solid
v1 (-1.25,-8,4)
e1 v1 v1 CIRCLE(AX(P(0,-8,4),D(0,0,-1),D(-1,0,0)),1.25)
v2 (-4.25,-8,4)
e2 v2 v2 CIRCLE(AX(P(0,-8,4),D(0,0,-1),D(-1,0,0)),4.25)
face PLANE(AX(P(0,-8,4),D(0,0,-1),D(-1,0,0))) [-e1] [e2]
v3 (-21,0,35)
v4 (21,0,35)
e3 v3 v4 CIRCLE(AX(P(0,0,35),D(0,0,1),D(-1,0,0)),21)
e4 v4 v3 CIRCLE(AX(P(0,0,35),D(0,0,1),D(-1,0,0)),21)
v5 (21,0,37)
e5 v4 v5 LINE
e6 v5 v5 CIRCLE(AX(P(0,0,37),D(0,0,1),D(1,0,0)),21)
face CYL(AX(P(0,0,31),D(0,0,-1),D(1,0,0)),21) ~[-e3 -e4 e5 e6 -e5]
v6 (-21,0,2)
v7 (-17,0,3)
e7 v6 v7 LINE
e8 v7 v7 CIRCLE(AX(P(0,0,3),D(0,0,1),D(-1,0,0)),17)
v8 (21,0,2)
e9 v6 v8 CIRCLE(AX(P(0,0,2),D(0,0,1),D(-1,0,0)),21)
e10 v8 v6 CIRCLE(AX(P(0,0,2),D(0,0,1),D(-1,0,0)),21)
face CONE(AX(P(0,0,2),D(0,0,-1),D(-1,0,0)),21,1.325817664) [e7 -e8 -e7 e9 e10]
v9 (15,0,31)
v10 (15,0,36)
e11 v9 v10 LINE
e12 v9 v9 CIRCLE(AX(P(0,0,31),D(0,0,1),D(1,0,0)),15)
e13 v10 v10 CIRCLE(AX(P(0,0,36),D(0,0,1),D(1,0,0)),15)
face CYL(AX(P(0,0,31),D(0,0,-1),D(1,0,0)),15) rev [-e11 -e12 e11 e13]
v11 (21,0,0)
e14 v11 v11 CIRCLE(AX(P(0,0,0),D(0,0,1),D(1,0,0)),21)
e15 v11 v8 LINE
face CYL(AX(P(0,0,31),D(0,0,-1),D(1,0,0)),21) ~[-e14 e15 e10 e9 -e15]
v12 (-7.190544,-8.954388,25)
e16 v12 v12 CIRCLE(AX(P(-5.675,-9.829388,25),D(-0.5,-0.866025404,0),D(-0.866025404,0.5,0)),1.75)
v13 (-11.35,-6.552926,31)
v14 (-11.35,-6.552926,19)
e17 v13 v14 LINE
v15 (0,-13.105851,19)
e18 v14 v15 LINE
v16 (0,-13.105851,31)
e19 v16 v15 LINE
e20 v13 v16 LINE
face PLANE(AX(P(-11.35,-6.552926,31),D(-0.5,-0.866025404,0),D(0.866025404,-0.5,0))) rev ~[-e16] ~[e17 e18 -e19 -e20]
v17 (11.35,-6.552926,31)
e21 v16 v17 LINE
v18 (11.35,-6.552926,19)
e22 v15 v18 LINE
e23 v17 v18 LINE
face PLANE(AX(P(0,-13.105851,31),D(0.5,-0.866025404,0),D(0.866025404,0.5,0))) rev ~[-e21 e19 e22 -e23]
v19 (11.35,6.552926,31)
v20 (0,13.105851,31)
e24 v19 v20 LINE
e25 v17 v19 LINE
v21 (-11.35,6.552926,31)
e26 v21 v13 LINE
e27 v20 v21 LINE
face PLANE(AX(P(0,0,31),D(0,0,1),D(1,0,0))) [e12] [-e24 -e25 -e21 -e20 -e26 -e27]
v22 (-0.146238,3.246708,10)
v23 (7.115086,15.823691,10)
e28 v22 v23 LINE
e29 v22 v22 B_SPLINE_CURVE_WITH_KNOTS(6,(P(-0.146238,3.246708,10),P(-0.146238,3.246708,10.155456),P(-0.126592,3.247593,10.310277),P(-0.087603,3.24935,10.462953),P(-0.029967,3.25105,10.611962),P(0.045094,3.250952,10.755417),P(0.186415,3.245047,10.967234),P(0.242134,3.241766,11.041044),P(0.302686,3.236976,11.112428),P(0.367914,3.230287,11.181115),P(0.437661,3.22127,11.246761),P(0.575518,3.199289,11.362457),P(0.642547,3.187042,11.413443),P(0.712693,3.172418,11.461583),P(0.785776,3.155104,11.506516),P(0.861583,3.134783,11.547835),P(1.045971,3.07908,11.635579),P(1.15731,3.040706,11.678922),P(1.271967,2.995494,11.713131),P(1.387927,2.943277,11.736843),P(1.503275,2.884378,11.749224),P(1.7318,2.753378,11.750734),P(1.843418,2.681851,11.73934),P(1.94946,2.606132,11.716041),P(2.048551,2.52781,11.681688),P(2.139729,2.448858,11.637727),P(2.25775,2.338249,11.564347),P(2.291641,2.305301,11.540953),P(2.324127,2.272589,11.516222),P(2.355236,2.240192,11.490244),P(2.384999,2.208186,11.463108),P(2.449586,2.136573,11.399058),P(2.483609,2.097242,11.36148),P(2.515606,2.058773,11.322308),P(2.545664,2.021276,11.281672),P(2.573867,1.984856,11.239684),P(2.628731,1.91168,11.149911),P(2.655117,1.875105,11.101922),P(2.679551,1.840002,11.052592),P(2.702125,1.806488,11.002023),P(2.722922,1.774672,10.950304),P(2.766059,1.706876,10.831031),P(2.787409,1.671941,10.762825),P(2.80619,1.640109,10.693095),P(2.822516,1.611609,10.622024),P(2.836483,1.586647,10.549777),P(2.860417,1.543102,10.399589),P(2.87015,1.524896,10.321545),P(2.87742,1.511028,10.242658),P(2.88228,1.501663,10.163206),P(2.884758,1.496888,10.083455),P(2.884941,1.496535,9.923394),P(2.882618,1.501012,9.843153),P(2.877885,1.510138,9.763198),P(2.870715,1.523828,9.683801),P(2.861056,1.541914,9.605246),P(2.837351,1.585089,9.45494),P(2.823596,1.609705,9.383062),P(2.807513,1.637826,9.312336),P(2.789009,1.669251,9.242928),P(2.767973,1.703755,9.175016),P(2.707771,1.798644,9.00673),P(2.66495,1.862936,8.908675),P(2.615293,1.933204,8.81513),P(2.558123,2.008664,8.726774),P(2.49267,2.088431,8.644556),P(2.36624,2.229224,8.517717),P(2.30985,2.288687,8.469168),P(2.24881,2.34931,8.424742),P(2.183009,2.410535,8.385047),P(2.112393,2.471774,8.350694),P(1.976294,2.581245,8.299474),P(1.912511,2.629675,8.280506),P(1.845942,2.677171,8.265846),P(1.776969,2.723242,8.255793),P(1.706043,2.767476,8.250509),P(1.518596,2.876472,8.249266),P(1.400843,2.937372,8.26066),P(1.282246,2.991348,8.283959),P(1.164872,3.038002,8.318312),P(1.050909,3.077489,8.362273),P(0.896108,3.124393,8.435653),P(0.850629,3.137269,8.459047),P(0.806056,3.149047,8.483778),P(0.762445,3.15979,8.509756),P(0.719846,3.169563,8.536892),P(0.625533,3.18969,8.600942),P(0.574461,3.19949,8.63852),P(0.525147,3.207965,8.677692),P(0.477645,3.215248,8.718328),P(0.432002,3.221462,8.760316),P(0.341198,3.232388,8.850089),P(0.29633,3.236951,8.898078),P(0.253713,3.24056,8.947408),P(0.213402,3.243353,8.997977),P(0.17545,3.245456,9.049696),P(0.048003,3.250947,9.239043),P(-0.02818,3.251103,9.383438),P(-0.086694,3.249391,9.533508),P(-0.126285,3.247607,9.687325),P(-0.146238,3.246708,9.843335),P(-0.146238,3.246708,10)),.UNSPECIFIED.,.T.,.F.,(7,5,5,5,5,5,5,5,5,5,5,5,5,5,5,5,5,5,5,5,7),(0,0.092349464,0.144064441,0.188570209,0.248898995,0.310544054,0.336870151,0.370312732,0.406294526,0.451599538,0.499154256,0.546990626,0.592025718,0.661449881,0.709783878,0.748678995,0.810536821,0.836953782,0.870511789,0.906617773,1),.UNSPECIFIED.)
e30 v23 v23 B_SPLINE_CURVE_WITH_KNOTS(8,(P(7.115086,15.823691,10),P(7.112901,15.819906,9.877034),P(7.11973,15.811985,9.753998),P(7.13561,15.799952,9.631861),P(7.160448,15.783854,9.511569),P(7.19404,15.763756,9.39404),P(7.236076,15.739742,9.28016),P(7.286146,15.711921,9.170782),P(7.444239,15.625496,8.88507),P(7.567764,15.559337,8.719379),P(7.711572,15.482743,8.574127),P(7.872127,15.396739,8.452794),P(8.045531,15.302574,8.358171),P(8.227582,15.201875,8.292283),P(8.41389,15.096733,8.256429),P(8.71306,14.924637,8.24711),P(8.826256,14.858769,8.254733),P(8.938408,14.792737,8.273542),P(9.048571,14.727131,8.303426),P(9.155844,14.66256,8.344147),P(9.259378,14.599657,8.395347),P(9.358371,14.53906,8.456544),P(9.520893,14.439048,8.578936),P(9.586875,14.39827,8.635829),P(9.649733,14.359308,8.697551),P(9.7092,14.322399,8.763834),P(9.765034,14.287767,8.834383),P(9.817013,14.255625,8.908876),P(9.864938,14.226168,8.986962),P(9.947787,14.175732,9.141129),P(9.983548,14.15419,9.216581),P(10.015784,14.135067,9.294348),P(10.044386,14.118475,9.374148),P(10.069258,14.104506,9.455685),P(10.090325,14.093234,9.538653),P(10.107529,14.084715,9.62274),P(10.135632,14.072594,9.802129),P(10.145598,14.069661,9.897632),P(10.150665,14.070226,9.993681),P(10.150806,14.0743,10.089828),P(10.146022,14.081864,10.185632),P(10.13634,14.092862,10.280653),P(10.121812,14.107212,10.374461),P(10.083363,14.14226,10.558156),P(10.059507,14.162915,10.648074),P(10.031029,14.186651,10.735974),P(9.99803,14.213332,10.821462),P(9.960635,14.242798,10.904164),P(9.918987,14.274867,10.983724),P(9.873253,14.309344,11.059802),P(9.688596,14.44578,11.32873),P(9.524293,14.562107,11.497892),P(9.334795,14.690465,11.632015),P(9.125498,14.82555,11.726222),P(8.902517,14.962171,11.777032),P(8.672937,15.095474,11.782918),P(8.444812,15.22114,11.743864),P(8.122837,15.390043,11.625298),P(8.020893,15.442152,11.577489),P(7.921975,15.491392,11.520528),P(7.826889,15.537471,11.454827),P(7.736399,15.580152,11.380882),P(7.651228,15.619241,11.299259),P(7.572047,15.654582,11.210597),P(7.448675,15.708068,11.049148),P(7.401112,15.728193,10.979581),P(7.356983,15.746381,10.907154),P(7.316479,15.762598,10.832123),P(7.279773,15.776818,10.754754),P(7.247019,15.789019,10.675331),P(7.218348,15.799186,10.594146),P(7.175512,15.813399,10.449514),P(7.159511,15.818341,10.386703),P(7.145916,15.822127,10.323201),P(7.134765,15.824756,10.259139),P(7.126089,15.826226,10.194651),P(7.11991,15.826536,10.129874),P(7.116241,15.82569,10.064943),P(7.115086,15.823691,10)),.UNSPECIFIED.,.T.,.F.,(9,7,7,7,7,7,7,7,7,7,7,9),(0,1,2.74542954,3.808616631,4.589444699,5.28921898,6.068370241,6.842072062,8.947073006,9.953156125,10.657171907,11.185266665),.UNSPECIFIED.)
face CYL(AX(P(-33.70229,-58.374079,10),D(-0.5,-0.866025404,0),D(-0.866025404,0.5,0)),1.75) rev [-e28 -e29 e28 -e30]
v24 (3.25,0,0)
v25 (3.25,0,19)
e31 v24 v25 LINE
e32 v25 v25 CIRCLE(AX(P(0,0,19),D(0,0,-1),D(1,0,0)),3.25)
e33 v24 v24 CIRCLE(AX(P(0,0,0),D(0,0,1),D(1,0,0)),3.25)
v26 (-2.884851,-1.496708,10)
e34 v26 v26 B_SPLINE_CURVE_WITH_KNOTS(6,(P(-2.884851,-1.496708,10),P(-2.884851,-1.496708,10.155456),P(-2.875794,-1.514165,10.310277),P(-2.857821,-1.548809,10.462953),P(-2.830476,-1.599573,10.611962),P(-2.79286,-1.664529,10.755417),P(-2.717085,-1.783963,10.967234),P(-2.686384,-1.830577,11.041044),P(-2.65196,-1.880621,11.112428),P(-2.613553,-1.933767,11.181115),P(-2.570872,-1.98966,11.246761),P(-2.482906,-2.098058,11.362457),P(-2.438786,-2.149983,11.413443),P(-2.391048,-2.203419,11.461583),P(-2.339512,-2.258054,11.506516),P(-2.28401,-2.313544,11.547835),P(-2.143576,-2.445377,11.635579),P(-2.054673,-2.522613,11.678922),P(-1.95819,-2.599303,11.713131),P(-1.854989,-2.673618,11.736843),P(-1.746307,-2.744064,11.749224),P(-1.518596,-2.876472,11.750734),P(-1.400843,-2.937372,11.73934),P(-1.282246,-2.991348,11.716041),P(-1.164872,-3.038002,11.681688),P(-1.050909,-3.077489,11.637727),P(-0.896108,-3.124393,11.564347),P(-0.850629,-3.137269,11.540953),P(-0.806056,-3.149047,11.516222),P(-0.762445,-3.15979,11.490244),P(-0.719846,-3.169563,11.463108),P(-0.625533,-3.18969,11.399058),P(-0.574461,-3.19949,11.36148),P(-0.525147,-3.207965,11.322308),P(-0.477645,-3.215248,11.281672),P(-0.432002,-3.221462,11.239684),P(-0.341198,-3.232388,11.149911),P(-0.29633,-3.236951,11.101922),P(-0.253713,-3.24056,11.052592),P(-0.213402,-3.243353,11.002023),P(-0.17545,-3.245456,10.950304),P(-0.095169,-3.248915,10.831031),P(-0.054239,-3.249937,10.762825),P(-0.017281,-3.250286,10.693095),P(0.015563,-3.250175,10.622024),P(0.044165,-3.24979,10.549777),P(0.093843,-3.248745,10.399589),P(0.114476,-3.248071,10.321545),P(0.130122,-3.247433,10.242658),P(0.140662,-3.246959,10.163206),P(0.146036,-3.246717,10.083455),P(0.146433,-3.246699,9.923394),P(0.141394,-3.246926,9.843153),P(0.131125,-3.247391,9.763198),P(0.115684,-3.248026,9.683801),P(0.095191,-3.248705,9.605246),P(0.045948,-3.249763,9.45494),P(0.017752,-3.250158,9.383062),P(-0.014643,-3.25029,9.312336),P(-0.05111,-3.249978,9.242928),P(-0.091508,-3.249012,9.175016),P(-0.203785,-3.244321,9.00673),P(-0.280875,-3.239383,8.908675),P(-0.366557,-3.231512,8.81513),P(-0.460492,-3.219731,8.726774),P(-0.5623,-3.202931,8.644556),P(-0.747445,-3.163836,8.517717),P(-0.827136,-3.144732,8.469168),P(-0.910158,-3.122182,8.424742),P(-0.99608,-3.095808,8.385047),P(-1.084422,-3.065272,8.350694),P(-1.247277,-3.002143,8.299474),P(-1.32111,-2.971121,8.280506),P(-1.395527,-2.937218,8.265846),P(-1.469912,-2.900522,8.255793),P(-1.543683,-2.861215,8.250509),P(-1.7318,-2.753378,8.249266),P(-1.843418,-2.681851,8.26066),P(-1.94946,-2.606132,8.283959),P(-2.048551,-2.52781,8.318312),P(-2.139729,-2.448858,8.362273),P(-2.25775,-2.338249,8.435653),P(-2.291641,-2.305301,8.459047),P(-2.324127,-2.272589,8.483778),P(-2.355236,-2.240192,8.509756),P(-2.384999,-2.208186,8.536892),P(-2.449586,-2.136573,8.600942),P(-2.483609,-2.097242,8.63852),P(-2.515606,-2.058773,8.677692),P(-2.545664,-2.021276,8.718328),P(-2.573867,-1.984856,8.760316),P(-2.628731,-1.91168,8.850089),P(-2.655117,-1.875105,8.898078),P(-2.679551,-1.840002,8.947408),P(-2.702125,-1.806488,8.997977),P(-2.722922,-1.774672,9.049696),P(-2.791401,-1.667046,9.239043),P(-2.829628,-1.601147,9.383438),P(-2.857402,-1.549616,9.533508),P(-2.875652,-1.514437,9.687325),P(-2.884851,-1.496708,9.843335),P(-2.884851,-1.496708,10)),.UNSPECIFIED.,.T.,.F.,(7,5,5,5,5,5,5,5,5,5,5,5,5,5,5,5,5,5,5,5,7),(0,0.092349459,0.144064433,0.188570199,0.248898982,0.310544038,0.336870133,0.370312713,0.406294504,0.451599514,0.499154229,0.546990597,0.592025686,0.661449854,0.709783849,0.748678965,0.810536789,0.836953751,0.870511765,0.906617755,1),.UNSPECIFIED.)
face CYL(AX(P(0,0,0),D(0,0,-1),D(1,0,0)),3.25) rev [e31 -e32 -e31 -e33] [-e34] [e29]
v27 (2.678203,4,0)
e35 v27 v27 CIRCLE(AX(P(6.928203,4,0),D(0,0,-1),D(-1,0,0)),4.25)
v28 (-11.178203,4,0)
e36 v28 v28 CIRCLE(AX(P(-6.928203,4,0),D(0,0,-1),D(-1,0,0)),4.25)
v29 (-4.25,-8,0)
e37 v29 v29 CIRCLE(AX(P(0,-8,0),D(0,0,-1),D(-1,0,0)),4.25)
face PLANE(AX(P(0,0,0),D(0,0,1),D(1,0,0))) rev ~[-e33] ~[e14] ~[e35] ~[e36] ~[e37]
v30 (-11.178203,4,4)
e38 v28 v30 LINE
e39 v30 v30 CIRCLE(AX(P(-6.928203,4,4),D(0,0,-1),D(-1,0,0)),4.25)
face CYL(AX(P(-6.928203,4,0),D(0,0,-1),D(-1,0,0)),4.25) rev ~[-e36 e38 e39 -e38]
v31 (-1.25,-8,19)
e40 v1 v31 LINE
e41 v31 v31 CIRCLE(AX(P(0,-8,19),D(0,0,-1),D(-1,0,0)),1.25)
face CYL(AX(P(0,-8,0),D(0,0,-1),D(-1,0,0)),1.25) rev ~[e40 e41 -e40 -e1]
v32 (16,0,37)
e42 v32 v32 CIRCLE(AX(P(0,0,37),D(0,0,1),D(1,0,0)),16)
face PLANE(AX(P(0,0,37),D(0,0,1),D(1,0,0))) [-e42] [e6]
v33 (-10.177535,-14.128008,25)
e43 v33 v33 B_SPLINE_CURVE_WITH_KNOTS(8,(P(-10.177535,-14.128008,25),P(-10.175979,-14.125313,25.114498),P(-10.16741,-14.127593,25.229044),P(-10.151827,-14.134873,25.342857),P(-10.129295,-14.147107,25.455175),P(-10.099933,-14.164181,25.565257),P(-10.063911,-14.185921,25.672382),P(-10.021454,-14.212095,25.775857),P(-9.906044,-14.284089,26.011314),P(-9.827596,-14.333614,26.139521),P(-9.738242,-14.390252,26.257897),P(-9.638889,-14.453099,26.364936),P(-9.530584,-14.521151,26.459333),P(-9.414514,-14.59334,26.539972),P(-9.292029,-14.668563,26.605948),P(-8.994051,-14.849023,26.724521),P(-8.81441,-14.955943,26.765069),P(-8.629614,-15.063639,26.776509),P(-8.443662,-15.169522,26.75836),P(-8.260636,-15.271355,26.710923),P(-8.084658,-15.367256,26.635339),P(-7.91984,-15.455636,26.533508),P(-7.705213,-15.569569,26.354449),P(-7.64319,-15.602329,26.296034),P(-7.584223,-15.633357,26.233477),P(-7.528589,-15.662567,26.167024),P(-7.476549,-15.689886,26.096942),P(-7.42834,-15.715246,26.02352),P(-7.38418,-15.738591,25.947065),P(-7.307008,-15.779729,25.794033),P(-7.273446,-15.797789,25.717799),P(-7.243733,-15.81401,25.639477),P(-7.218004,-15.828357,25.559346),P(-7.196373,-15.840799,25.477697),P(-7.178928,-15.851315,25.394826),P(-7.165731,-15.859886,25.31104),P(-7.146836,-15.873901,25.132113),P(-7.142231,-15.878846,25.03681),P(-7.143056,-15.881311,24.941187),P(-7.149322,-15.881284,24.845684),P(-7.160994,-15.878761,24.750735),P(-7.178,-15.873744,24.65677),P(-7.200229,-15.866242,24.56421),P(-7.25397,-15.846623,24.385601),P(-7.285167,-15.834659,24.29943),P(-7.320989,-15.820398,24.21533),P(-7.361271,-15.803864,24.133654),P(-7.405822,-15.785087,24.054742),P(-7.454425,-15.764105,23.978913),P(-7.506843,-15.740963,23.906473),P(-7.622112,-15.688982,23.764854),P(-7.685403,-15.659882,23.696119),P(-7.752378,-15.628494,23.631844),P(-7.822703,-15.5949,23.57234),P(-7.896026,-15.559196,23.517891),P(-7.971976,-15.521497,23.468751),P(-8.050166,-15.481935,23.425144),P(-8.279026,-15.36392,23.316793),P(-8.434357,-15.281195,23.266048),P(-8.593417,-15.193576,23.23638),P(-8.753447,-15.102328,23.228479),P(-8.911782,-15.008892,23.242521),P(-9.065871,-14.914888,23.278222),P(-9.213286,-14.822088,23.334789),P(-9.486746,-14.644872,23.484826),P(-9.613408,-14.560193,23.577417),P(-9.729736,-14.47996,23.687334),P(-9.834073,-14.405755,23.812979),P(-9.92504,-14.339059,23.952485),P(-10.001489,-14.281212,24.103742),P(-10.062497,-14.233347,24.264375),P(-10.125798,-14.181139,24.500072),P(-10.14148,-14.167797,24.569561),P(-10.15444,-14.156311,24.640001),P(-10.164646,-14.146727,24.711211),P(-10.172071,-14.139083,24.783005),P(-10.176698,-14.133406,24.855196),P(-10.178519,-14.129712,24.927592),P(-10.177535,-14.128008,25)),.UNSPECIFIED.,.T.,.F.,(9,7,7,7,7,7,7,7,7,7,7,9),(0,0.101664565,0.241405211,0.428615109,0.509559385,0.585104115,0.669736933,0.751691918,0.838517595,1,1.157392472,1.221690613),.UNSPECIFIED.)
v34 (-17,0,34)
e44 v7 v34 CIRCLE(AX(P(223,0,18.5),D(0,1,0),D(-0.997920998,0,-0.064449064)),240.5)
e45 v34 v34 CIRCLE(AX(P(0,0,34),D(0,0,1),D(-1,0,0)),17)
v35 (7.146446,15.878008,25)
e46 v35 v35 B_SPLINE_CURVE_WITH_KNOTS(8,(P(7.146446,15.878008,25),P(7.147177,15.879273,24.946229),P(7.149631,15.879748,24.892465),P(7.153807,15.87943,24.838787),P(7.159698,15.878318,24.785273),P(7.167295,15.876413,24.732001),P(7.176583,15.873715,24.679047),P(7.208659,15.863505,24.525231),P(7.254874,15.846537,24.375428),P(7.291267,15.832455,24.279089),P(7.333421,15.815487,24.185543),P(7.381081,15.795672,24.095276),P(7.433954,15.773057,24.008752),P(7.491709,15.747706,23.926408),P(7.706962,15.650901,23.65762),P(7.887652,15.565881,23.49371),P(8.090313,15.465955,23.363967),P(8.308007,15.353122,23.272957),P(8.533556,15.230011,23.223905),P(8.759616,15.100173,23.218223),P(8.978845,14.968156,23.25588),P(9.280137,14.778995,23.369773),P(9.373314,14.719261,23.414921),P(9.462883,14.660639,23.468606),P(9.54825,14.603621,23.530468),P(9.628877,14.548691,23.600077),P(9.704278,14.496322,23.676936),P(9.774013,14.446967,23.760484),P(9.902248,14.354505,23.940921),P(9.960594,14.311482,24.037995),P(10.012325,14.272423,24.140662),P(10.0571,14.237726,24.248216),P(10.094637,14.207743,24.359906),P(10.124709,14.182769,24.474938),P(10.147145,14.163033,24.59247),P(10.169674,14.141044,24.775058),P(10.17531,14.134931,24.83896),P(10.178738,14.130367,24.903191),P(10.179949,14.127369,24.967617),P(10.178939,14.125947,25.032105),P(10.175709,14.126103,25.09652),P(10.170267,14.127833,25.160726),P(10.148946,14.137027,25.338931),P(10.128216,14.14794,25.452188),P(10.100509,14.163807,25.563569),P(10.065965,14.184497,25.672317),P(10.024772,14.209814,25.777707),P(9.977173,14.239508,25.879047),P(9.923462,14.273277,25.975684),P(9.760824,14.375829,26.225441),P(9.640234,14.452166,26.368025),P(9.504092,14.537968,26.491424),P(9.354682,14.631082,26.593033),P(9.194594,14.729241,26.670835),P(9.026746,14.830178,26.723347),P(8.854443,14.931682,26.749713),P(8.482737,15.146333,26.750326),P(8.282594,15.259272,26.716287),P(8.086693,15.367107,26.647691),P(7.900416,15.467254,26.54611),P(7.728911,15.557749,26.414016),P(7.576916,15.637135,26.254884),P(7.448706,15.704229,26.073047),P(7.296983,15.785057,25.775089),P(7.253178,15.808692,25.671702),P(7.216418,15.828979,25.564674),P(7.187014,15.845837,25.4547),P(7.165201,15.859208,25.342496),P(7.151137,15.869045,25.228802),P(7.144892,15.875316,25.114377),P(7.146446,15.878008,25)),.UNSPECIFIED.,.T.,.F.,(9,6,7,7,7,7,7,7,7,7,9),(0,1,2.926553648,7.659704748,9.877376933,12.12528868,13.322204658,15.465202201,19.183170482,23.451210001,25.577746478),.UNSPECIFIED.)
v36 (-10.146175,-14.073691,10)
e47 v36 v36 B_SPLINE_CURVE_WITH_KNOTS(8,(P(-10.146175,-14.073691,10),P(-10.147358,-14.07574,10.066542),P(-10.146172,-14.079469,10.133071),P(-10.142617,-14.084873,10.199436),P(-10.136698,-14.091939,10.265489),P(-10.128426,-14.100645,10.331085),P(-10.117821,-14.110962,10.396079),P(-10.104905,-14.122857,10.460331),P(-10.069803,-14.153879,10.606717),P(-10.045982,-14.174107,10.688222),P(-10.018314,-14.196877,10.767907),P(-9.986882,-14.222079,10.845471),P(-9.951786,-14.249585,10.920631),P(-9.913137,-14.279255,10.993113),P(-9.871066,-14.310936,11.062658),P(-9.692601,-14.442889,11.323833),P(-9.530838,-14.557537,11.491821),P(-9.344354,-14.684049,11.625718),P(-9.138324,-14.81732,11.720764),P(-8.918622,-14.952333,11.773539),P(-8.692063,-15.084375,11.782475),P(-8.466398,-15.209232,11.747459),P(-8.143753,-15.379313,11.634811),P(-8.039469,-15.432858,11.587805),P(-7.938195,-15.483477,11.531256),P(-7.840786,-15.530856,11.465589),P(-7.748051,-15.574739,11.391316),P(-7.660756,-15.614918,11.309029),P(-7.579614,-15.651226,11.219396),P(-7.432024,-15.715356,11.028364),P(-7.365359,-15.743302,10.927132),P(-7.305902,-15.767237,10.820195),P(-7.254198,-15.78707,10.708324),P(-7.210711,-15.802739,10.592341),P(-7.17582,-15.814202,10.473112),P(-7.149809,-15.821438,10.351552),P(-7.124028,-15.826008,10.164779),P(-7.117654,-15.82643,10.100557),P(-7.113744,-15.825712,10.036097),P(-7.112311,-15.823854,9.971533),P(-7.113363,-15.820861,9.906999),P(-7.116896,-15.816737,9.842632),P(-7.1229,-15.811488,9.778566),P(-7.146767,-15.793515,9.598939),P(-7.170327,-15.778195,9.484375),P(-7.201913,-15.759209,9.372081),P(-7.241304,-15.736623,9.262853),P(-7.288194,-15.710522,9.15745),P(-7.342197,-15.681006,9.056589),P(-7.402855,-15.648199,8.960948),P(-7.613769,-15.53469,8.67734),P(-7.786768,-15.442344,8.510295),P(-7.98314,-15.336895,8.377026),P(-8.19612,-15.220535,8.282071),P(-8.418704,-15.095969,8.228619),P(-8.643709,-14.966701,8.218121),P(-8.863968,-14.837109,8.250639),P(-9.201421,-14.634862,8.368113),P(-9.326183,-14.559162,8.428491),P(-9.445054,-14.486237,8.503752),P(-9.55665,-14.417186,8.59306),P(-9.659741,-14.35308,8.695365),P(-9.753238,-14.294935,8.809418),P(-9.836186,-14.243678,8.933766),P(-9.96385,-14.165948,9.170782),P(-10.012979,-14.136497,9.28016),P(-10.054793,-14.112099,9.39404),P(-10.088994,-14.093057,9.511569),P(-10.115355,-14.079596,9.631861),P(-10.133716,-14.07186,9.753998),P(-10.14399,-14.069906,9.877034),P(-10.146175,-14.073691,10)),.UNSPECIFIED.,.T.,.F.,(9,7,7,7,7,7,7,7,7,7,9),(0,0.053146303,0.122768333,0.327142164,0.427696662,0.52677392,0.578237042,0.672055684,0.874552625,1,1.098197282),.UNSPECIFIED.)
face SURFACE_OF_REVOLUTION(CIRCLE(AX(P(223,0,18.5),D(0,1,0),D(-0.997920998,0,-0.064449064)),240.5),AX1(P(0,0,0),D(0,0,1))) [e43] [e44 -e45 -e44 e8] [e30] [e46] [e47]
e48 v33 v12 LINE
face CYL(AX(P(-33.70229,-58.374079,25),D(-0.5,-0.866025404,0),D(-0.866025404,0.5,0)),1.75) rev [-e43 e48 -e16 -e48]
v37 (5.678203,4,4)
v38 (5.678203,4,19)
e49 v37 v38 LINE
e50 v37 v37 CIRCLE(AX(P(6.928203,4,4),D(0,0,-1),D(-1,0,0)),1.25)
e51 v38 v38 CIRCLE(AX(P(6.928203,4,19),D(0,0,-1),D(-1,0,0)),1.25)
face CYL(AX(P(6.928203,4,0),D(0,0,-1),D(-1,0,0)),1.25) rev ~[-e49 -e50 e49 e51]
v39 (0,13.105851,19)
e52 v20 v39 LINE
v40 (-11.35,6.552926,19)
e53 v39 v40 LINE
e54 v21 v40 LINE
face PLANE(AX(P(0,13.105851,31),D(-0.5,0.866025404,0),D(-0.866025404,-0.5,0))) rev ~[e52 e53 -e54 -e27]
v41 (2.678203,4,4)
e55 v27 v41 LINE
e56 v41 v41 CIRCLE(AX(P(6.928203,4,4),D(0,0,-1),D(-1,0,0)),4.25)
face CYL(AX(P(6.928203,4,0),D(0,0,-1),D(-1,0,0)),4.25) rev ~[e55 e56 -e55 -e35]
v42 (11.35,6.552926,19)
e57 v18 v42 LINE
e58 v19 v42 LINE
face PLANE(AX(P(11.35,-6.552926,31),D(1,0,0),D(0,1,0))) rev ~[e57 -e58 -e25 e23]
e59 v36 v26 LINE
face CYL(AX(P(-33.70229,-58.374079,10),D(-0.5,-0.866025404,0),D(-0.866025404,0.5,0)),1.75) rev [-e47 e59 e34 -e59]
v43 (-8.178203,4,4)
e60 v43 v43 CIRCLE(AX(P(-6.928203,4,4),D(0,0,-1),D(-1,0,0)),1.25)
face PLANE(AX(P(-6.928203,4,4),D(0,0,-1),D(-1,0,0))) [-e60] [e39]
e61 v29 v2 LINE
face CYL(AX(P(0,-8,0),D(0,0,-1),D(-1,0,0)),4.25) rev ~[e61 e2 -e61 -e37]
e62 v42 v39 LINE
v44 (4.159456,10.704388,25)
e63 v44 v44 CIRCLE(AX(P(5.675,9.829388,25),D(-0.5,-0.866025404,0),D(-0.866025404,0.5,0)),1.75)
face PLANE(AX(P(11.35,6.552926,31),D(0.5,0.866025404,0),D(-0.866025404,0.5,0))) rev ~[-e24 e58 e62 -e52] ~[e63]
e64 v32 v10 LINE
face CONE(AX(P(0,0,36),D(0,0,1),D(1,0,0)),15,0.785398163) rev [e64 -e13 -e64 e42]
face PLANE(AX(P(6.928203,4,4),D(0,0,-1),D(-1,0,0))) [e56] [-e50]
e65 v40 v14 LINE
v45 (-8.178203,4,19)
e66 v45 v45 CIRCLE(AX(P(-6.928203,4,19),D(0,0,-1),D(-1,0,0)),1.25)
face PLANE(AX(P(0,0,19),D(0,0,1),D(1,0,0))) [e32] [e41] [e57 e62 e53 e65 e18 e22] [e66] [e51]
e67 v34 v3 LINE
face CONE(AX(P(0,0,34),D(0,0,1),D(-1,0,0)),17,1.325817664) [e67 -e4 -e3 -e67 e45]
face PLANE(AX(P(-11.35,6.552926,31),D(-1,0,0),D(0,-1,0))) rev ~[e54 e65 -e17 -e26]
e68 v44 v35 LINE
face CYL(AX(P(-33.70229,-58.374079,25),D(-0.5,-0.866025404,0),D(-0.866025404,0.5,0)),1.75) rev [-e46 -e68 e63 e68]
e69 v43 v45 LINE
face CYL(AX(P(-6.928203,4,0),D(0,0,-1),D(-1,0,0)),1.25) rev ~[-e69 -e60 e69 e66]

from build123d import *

# Parameters (mm, degrees)
ESQUISSE1_R                   = 21
ESQUISSE1_R_2                 = 3.25
BOSS_EXTRU_1_DEPTH            = 31
ESQUISSE2_R                   = 21
ESQUISSE2_R_2                 = 15
BOSS_EXTRU_2_DEPTH            = 6
ENL_V_MAT_EXTRU_9_DEPTH       = 12
CHANFREIN1_SIZE               = 1
ESQUISSE11_R                  = 1.25
ENL_V_MAT_EXTRU_10_DEPTH      = 48.444704657
ESQUISSE12_R                  = 4.25
ENL_V_MAT_EXTRU_11_DEPTH      = 4
ENL_V_MAT_EXTRU_12_DEPTH      = 56.054580282
ENL_V_MAT_EXTRU_12_DEPTH_BACK = 56.054580282
ESQUISSE13_R                  = 1.75


with BuildPart() as part:
    # Esquisse1 → Boss.-Extru.1 (new body)
    with BuildSketch(Plane.XY):
        Circle(ESQUISSE1_R)
        Circle(ESQUISSE1_R_2, mode=Mode.SUBTRACT)
    extrude(amount=BOSS_EXTRU_1_DEPTH)

    # Esquisse2 → Boss.-Extru.2 (add)
    with BuildSketch(Plane.XY.offset(31)):
        Circle(ESQUISSE2_R)
        Circle(ESQUISSE2_R_2, mode=Mode.SUBTRACT)
    extrude(amount=BOSS_EXTRU_2_DEPTH)

    # Esquisse9 → Enlèv. mat.-Extru.9 (cut)
    with BuildSketch(Plane.XY.offset(31)):
        Polygon((11.35, -6.552925555), (11.35, 6.552925555), (0, 13.105851111), (-11.35, 6.552925555), (-11.35, -6.552925555), (0, -13.105851111), align=None)
    extrude(amount=-ENL_V_MAT_EXTRU_9_DEPTH, mode=Mode.SUBTRACT)

    # Chanfrein1
    chanfrein1_edges = [part.edges().sort_by_distance(p)[0] for p in [
        (-15, 0, 37),
    ]]
    chamfer(chanfrein1_edges, length=CHANFREIN1_SIZE)

    # Esquisse10 → Enlèvement de matière-Révolution1 (revolve, cut)
    with BuildSketch(Plane(origin=(0, 0, 0), x_dir=(0, 0, -1), z_dir=(1, 0, 0)), mode=Mode.PRIVATE) as enl_vement_de_mati_re_r_volution1_sk:
        with BuildLine():
            Line((-35, 21), (-2, 21))
            Line((-2, 21), (-3, 17))
            ThreePointArc((-3, 17), (-18.5, 17.5), (-34, 17))
            Line((-34, 17), (-35, 21))
        make_face()
    revolve(enl_vement_de_mati_re_r_volution1_sk.sketch.rotate(Axis((0, 0, 0), (0, 0, 1)), 90), axis=Axis((0, 0, 0), (0, 0, 1)), mode=Mode.SUBTRACT)

    # Esquisse11 → Enlèv. mat.-Extru.10 (cut, through all)
    with BuildSketch(Plane(origin=(0, 0, 0), x_dir=(-1, 0, 0), z_dir=(0, 0, -1))):
        with Locations((-6.92820323, 4)):
            Circle(ESQUISSE11_R)
        with Locations((6.92820323, 4)):
            Circle(ESQUISSE11_R)
        with Locations((0, -8)):
            Circle(ESQUISSE11_R)
    extrude(amount=-ENL_V_MAT_EXTRU_10_DEPTH, mode=Mode.SUBTRACT)

    # Esquisse12 → Enlèv. mat.-Extru.11 (cut)
    with BuildSketch(Plane(origin=(0, 0, 0), x_dir=(-1, 0, 0), z_dir=(0, 0, -1))):
        with Locations((-6.92820323, 4)):
            Circle(ESQUISSE12_R)
        with Locations((6.92820323, 4)):
            Circle(ESQUISSE12_R)
        with Locations((0, -8)):
            Circle(ESQUISSE12_R)
    extrude(amount=-ENL_V_MAT_EXTRU_11_DEPTH, mode=Mode.SUBTRACT)

    # Esquisse13 → Enlèv. mat.-Extru.12 (cut, two sides: drawn at the far end of the back side and taken through both)
    with BuildSketch(Plane(origin=(-5.675, -9.829388333, 0), x_dir=(0.8660254037844387, -0.49999999999999983, 0), z_dir=(0.49999999999999983, 0.8660254037844387, 0)).offset(-ENL_V_MAT_EXTRU_12_DEPTH_BACK)):
        with Locations(Location((0, -25, 0), (0, 0, 180))):
            Circle(ESQUISSE13_R)
        with Locations(Location((0, -10, 0), (0, 0, 180))):
            Circle(ESQUISSE13_R)
    extrude(amount=ENL_V_MAT_EXTRU_12_DEPTH + ENL_V_MAT_EXTRU_12_DEPTH_BACK, mode=Mode.SUBTRACT)


solid = part.part
